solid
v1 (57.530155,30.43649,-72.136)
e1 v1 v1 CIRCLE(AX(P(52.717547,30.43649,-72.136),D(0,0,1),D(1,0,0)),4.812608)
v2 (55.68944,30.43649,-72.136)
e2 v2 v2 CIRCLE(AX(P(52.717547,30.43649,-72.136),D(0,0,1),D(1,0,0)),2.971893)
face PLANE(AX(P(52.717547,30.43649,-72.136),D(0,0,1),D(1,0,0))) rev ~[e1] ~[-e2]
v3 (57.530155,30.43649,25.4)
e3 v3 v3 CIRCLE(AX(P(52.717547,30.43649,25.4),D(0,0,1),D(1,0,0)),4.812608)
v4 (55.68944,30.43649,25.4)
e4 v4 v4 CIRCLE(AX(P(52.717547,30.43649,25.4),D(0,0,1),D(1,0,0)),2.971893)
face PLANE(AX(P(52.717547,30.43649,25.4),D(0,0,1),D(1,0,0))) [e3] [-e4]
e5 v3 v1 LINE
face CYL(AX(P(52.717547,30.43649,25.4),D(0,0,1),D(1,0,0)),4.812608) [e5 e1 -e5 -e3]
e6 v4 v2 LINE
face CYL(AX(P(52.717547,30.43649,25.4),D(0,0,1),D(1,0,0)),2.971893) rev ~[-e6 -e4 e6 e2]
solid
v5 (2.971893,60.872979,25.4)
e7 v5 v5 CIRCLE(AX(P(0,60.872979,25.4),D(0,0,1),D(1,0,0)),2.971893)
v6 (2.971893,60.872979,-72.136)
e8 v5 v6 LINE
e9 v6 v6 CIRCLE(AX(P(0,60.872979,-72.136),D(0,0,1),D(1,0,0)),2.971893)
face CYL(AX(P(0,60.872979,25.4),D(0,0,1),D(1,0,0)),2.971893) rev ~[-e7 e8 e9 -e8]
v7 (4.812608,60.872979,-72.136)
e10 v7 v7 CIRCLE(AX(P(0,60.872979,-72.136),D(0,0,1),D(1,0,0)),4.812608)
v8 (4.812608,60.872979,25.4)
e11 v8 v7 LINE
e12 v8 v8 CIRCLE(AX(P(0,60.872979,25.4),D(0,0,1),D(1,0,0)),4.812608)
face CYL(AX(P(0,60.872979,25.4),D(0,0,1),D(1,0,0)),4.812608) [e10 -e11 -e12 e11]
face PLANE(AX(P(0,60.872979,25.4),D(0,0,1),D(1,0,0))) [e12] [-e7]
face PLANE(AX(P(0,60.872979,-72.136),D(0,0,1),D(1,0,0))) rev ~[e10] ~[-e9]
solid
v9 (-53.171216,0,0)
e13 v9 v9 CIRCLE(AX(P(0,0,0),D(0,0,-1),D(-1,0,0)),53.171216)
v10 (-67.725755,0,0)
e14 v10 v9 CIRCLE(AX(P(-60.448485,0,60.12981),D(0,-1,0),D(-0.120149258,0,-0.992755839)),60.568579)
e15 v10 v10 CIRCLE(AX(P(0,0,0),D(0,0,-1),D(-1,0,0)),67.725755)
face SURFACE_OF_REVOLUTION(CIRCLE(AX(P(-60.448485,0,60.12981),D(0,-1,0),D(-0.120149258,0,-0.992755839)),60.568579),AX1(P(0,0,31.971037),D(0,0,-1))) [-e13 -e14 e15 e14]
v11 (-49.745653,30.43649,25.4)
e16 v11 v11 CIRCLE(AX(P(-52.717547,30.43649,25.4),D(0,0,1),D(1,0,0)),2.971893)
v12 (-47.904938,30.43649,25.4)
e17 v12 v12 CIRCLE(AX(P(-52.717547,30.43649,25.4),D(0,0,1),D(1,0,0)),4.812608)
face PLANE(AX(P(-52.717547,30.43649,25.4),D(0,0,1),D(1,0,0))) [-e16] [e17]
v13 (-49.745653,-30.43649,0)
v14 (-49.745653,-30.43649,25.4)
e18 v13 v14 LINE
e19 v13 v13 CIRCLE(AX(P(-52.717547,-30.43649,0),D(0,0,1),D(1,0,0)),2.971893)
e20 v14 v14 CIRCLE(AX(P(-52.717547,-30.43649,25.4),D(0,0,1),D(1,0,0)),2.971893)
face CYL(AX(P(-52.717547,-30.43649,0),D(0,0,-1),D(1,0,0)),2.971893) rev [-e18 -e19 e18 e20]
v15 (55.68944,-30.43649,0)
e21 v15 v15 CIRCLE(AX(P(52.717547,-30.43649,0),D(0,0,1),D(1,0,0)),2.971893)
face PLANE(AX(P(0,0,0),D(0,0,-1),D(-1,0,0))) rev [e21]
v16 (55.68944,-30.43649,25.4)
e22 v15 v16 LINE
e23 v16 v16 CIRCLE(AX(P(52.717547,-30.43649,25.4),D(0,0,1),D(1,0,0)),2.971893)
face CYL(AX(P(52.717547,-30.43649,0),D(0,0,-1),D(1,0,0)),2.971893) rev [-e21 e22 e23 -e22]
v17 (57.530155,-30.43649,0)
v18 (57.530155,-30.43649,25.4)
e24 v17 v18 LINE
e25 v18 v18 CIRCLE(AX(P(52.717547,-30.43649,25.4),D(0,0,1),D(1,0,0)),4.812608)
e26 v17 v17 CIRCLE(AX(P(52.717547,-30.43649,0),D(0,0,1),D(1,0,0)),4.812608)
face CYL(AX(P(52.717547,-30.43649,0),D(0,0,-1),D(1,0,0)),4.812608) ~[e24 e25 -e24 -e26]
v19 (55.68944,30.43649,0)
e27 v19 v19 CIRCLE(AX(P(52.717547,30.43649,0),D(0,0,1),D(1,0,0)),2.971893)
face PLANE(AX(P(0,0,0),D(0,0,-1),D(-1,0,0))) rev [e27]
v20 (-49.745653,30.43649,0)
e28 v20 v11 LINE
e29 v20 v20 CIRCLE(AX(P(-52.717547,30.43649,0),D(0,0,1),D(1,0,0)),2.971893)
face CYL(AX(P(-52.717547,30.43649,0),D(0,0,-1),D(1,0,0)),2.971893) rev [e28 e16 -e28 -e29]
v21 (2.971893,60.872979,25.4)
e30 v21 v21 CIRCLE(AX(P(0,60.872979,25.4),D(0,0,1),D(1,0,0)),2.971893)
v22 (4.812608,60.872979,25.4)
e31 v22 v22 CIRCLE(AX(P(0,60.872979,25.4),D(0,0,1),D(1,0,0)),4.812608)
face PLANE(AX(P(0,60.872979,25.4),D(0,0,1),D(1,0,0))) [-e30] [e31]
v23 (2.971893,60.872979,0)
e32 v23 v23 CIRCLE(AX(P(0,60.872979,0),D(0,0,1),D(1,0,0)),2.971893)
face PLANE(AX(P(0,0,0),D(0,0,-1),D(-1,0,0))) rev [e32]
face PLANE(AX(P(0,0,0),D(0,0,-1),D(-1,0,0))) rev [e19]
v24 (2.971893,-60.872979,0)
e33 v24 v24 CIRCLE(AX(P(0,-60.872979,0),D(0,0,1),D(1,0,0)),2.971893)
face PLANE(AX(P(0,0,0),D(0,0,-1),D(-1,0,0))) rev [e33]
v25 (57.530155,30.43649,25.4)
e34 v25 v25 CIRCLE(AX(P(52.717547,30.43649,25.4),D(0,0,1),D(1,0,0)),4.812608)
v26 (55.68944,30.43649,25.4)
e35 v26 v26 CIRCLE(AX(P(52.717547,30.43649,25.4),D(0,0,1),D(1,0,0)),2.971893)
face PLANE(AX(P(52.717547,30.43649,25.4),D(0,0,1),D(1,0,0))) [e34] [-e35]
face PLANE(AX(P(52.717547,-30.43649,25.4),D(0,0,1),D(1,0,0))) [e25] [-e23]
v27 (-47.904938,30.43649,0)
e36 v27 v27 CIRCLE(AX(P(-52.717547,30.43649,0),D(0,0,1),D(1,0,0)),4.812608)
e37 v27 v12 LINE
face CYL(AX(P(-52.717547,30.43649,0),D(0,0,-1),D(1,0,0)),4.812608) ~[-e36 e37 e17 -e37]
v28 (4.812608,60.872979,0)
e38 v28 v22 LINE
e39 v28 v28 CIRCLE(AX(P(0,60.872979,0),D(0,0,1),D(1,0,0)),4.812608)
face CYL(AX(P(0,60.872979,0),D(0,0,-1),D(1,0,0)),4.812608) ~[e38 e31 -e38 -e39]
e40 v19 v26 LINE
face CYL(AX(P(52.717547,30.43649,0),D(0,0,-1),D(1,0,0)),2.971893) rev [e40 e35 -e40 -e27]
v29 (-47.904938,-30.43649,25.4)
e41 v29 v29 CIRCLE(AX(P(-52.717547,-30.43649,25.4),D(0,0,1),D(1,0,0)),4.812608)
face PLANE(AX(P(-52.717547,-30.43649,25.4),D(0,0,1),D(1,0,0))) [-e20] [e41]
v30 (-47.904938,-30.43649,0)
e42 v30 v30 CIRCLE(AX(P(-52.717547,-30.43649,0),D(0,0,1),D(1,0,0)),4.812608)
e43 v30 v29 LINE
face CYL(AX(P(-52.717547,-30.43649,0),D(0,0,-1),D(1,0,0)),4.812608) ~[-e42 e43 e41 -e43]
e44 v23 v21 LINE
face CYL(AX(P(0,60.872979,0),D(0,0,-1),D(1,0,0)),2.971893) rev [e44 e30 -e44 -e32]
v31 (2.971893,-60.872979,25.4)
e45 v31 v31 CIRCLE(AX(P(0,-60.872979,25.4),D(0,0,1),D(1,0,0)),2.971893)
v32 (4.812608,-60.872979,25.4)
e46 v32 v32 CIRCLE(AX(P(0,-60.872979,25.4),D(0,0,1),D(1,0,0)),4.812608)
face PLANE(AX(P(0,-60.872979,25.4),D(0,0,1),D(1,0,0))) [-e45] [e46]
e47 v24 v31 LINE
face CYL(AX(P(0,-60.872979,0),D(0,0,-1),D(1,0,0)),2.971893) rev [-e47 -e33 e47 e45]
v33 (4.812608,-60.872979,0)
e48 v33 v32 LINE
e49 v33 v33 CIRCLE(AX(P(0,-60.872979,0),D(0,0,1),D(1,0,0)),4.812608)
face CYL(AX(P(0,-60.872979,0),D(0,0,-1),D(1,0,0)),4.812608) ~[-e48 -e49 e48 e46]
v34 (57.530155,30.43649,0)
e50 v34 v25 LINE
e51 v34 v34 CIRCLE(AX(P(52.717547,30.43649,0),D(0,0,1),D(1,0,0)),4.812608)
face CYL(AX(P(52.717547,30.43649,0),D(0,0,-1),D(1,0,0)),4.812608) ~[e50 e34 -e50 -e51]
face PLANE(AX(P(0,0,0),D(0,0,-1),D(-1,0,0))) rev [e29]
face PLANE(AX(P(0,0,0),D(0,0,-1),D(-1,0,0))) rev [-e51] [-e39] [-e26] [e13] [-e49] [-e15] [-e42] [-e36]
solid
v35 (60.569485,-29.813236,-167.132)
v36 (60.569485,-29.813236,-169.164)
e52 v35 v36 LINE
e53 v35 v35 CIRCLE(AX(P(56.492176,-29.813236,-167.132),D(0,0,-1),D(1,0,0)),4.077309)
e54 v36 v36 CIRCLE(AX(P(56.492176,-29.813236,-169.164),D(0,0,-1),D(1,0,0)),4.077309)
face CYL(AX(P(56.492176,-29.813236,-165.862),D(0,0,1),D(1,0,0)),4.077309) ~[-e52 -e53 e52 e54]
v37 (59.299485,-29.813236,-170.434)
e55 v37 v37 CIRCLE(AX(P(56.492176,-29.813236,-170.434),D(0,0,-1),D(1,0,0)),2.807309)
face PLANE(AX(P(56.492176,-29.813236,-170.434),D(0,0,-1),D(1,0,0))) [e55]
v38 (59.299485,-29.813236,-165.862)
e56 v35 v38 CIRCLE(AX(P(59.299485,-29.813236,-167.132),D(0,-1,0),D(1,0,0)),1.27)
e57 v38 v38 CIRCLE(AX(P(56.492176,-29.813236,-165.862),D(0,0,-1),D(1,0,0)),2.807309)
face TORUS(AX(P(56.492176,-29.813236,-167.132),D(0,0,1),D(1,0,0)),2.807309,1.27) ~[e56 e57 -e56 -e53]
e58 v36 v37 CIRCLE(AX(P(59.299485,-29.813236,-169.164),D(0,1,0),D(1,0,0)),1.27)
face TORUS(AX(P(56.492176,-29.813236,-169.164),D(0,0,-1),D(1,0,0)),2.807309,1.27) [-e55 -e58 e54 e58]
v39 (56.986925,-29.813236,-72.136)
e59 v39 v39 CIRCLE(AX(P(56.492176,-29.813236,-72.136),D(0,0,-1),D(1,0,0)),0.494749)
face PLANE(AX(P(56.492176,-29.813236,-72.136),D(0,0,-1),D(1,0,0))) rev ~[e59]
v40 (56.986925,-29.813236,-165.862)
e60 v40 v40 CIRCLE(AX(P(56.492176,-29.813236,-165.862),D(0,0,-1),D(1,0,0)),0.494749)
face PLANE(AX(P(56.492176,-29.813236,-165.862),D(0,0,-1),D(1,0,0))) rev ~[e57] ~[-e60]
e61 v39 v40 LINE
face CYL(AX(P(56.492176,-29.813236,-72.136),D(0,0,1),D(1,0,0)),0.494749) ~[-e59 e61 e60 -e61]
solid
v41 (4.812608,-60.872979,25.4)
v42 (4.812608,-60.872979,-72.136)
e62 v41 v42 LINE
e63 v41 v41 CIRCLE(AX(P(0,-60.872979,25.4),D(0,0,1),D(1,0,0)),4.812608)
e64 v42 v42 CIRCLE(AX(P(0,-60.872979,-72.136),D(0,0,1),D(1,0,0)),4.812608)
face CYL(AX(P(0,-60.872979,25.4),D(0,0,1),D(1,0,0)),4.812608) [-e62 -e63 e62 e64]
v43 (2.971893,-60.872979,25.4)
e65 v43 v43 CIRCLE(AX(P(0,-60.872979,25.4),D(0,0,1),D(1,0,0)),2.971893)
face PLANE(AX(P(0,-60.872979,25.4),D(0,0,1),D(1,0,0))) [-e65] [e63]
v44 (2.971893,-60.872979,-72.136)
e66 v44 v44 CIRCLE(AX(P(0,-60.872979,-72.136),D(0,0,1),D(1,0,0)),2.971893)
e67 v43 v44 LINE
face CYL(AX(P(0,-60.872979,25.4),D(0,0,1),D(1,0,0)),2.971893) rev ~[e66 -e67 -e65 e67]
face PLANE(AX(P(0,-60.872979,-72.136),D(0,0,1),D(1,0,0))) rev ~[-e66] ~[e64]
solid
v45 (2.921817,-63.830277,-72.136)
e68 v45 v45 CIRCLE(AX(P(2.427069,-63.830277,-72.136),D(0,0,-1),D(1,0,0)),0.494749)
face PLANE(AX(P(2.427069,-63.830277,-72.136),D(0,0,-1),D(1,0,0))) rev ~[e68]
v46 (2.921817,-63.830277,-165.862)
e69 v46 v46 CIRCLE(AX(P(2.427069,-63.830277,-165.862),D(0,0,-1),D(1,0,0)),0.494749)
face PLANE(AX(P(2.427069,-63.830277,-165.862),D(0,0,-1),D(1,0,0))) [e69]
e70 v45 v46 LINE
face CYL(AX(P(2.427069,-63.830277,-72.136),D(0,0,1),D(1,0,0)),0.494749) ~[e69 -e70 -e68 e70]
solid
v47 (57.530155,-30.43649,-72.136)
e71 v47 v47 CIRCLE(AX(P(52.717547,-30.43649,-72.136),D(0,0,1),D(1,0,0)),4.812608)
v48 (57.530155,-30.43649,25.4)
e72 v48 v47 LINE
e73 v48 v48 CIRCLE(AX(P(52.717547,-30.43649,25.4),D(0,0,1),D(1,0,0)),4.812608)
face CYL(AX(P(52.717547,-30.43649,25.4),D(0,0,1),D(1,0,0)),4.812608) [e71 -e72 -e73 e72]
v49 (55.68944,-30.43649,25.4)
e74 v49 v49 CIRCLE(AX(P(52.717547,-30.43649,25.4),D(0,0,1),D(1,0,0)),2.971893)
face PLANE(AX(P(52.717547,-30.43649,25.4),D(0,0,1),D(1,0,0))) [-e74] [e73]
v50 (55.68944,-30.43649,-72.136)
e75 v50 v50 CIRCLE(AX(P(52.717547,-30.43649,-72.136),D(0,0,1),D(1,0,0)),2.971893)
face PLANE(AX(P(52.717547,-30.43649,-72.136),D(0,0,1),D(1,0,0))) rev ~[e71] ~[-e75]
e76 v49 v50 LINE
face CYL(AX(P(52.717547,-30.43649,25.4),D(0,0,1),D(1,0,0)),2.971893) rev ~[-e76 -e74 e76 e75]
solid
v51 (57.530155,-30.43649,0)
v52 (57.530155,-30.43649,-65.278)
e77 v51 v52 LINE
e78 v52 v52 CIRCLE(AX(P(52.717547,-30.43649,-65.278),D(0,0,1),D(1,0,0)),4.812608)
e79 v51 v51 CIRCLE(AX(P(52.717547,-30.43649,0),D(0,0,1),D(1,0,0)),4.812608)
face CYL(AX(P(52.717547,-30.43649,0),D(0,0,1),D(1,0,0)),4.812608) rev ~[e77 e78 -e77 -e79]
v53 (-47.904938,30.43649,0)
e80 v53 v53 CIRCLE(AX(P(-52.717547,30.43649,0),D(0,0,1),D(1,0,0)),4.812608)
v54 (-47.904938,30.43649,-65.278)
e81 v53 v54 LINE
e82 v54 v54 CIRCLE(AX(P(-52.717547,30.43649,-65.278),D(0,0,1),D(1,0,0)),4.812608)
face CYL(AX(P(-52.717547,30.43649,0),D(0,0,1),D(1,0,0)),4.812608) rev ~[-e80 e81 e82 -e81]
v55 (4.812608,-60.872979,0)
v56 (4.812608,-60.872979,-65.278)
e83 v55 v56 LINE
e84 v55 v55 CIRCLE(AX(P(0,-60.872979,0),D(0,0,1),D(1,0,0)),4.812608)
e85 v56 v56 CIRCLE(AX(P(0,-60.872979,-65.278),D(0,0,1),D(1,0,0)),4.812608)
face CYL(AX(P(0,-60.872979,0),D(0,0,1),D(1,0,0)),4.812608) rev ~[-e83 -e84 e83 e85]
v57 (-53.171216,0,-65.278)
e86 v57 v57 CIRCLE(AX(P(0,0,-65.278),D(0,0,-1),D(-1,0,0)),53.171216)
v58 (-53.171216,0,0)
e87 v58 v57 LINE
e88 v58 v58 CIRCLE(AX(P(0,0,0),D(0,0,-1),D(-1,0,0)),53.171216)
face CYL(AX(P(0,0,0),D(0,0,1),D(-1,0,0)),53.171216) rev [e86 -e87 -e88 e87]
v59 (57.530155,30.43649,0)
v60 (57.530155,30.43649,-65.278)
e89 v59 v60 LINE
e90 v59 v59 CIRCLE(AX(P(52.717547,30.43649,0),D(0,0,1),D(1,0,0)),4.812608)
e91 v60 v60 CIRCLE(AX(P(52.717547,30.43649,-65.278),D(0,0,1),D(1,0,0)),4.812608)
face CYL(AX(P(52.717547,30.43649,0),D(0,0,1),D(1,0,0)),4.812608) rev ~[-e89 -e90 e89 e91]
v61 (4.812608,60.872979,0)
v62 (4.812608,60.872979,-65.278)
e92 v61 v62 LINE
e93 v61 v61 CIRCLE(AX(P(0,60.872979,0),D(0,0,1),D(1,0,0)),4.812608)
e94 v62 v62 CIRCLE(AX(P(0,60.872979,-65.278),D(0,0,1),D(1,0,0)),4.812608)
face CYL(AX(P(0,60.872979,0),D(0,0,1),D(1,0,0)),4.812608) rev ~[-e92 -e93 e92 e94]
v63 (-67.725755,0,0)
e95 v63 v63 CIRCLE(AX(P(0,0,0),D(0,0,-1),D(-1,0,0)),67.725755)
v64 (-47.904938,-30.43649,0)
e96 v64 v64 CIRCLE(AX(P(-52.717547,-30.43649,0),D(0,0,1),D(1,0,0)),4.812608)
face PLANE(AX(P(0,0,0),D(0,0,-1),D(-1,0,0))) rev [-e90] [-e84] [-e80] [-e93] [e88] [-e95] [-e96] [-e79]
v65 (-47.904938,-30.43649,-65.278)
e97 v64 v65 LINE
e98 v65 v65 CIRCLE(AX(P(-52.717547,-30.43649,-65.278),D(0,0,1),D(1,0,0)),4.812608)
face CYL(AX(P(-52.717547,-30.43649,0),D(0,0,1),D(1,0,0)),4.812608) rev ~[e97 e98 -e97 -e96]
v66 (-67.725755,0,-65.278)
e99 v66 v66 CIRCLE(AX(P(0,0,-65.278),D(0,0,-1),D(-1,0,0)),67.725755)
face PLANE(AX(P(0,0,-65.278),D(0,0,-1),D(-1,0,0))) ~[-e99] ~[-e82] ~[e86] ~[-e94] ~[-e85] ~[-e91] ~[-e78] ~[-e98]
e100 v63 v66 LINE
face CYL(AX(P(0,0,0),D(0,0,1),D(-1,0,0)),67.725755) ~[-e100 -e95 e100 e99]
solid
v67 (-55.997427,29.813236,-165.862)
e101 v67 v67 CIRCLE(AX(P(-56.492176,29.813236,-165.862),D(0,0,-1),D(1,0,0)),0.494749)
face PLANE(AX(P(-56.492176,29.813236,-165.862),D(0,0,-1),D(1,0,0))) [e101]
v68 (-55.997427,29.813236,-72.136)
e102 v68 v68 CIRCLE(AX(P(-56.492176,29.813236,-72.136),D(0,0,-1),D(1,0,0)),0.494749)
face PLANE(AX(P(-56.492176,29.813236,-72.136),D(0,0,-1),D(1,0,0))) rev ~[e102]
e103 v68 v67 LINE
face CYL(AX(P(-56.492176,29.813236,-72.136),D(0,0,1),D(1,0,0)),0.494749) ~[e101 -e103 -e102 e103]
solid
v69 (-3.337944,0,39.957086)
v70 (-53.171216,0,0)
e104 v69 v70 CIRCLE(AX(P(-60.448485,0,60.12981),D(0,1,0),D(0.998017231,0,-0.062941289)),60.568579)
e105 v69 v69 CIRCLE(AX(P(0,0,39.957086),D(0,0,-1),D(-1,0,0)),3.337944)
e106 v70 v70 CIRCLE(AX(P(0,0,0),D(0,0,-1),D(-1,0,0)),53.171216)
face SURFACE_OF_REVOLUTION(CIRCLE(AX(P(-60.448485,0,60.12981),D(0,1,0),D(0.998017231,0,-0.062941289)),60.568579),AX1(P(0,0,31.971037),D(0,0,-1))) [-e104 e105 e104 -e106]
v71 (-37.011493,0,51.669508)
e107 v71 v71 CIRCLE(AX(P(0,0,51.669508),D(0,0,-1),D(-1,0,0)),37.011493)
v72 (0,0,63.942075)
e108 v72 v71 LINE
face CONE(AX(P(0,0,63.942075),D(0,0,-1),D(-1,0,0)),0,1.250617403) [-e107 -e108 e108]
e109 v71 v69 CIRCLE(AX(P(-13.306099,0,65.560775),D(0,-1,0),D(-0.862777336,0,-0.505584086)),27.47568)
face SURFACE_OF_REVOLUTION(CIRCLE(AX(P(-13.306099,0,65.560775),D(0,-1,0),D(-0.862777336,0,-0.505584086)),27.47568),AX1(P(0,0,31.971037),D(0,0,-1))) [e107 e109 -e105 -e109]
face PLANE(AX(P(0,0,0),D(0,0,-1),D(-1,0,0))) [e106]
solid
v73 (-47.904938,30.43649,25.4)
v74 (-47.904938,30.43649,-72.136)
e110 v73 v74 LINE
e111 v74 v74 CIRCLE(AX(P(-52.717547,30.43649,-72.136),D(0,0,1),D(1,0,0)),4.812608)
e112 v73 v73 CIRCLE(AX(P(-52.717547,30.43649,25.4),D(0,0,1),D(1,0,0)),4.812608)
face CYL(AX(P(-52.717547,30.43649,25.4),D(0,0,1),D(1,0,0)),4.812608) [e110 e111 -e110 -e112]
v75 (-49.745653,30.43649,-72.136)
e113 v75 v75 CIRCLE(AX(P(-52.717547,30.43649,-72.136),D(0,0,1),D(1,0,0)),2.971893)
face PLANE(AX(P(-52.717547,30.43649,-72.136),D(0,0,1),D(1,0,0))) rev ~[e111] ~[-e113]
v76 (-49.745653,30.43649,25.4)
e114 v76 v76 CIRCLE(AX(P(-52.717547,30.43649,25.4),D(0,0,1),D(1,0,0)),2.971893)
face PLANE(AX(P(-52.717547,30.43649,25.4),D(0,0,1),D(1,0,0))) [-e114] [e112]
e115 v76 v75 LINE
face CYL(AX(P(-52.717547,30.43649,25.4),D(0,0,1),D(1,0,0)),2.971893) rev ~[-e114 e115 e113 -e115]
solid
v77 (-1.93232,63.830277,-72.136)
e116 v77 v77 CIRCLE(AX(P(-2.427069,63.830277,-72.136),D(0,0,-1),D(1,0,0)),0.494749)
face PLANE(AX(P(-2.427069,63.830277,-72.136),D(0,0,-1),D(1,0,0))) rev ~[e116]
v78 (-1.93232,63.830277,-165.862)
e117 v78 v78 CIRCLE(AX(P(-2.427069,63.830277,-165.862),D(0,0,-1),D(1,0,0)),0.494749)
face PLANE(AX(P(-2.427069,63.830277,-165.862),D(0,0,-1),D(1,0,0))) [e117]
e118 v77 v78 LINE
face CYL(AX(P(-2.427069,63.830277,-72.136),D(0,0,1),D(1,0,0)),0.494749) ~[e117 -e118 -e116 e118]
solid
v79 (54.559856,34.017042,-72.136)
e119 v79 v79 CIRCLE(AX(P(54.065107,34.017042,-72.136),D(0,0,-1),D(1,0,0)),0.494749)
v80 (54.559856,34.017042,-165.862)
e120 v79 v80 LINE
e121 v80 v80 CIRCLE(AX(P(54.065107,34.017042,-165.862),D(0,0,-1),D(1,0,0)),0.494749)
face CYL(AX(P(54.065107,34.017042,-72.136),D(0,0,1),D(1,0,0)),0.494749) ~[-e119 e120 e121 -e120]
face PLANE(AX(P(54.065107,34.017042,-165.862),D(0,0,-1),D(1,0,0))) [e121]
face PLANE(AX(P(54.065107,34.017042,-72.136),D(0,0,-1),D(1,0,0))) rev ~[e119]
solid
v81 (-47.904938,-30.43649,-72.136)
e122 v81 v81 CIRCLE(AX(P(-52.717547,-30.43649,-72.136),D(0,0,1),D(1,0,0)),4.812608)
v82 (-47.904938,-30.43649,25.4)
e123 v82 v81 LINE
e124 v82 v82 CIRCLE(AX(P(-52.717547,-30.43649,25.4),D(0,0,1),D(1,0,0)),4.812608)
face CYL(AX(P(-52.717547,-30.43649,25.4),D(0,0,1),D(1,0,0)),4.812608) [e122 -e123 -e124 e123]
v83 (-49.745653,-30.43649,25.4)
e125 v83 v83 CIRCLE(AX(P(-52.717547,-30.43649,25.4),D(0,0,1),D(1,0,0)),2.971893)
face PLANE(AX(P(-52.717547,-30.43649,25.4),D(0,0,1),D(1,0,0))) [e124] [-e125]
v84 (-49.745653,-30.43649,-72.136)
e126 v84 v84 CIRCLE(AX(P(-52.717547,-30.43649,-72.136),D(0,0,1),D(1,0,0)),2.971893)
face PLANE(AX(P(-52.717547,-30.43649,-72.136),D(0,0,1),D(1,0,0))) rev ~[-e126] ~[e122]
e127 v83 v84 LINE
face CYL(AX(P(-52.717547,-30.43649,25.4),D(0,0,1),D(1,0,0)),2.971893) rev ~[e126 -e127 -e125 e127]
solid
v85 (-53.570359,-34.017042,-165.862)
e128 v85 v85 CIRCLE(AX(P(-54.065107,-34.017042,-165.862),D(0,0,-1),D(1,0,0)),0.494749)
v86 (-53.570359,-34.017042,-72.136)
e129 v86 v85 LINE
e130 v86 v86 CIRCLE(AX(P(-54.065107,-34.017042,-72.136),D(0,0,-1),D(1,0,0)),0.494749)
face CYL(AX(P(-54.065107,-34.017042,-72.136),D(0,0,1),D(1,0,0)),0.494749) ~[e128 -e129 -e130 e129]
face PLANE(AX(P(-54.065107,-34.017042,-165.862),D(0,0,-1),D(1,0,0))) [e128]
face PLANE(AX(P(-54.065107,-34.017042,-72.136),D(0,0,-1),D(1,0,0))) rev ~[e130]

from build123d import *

# Parameters (mm, degrees)
F2_R      = 4.812608174
F2_R_2    = 2.9718933484
F3_DEPTH  = 25.4
F4_DEPTH  = 97.536
F5_R      = 0.4947488438
F6_DEPTH  = 93.726
F7_R      = 4.0773088167
F8_DEPTH  = 4.572
F9_R      = 1.27
F10_DEPTH = 65.278


with BuildPart() as f1:
    # F0 (on Front) → F1 (revolve)
    with BuildSketch(Plane.XZ):
        with BuildLine():
            Line((-53.1712156031, 0), (-67.7257552743, 0))
            ThreePointArc((-67.7257552743, 0), (-60.4484854387, -0.4387685418), (-53.1712156031, 0))
        make_face()
    revolve(axis=Axis((0, 0, 31.9710373878), (0, 0, -1)))

    # F2 (on Top) → F3 (join)
    with BuildSketch(Plane.XY):
        with Locations((0, 60.8729794621)):
            Circle(F2_R)
        with Locations((0, 60.8729794621)):
            Circle(F2_R_2, mode=Mode.SUBTRACT)
        with Locations((-52.7175466183, 30.4364897311)):
            Circle(F2_R)
        with Locations((-52.7175466183, 30.4364897311)):
            Circle(F2_R_2, mode=Mode.SUBTRACT)
        with Locations((-52.7175466183, -30.4364897311)):
            Circle(F2_R)
        with Locations((-52.7175466183, -30.4364897311)):
            Circle(F2_R_2, mode=Mode.SUBTRACT)
        with Locations((0, -60.8729794621)):
            Circle(F2_R)
        with Locations((0, -60.8729794621)):
            Circle(F2_R_2, mode=Mode.SUBTRACT)
        with Locations((52.7175466183, -30.4364897311)):
            Circle(F2_R)
        with Locations((52.7175466183, -30.4364897311)):
            Circle(F2_R_2, mode=Mode.SUBTRACT)
        with Locations((52.7175466183, 30.4364897311)):
            Circle(F2_R)
        with Locations((52.7175466183, 30.4364897311)):
            Circle(F2_R_2, mode=Mode.SUBTRACT)
    extrude(amount=F3_DEPTH)


with BuildPart() as f1b:
    # F0 (on Front) → F1, piece 2 (revolve)
    with BuildSketch(Plane.XZ):
        with BuildLine():
            ThreePointArc((-37.0114929974, 51.6695082188), (-22.332346424, 39.6100551343), (-3.3379440264, 39.9570859333))
            ThreePointArc((-3.3379440264, 39.9570859333), (-1.1024884238, 48.0217390968), (0, 56.3175459697))
            Line((0, 56.3175459697), (0, 63.9420747757))
            Line((0, 63.9420747757), (-37.0114929974, 51.6695082188))
        make_face()
        with BuildLine():
            ThreePointArc((-3.3379440264, 39.9570859333), (-22.5593083773, 12.8755723266), (-53.1712156031, 0))
            Line((-53.1712156031, 0), (0, 0))
            Line((0, 0), (0, 56.3175459697))
            ThreePointArc((0, 56.3175459697), (-1.1024884238, 48.0217390968), (-3.3379440264, 39.9570859333))
        make_face()
    revolve(axis=Axis((0, 0, 31.9710373878), (0, 0, -1)))


with BuildPart() as f4:
    # F4 (new): a face of the model
    f4_faces = [f1.part.faces().sort_by_distance(p)[0] for p in [
        (-4.676487059, 60.8729794621, 25.4),
    ]]
    extrude(f4_faces, amount=-F4_DEPTH)


with BuildPart() as f4b:
    # F4#2 (new): a face of the model
    f4_2_faces = [f1.part.faces().sort_by_distance(p)[0] for p in [
        (48.0410595593, 30.4364897311, 25.4),
    ]]
    extrude(f4_2_faces, amount=-F4_DEPTH)


with BuildPart() as f4c:
    # F4#3 (new): a face of the model
    f4_3_faces = [f1.part.faces().sort_by_distance(p)[0] for p in [
        (48.0410595593, -30.4364897311, 25.4),
    ]]
    extrude(f4_3_faces, amount=-F4_DEPTH)


with BuildPart() as f4d:
    # F4#4 (new): a face of the model
    f4_4_faces = [f1.part.faces().sort_by_distance(p)[0] for p in [
        (-4.676487059, -60.8729794621, 25.4),
    ]]
    extrude(f4_4_faces, amount=-F4_DEPTH)


with BuildPart() as f4e:
    # F4#5 (new): a face of the model
    f4_5_faces = [f1.part.faces().sort_by_distance(p)[0] for p in [
        (-57.3940336772, -30.4364897311, 25.4),
    ]]
    extrude(f4_5_faces, amount=-F4_DEPTH)


with BuildPart() as f4f:
    # F4#6 (new): a face of the model
    f4_6_faces = [f1.part.faces().sort_by_distance(p)[0] for p in [
        (-57.3940336772, 30.4364897311, 25.4),
    ]]
    extrude(f4_6_faces, amount=-F4_DEPTH)


with BuildPart() as f6:
    # F5 (on face) → F6 (new body)
    with BuildSketch(Plane(origin=(0, 0, -72.136), x_dir=(1, 0, 0), z_dir=(0, 0, -1))):
        with Locations((56.4921759069, 29.8132356256)):
            Circle(F5_R)
    extrude(amount=F6_DEPTH)

    # F7 (on face) → F8 (join)
    with BuildSketch(Plane(origin=(0, 0, -165.862), x_dir=(1, 0, 0), z_dir=(0, 0, -1))):
        with Locations((56.4921759069, 29.8132356256)):
            Circle(F7_R)
    extrude(amount=F8_DEPTH)

    # F9
    f9_edges = [f6.edges().sort_by_distance(p)[0] for p in [
        (52.414867, -29.813236, -165.862),
        (52.414867, -29.813236, -170.434),
    ]]
    fillet(f9_edges, radius=F9_R)


with BuildPart() as f6b:
    # F5 (on face) → F6, piece 2 (new body)
    with BuildSketch(Plane(origin=(0, 0, -72.136), x_dir=(1, 0, 0), z_dir=(0, 0, -1))):
        with Locations((2.4270685326, 63.8302772632)):
            Circle(F5_R)
    extrude(amount=F6_DEPTH)


with BuildPart() as f6c:
    # F5 (on face) → F6, piece 3 (new body)
    with BuildSketch(Plane(origin=(0, 0, -72.136), x_dir=(1, 0, 0), z_dir=(0, 0, -1))):
        with Locations((-54.0651073743, 34.0170416376)):
            Circle(F5_R)
    extrude(amount=F6_DEPTH)


with BuildPart() as f6d:
    # F5 (on face) → F6, piece 4 (new body)
    with BuildSketch(Plane(origin=(0, 0, -72.136), x_dir=(1, 0, 0), z_dir=(0, 0, -1))):
        with Locations((-56.4921759069, -29.8132356256)):
            Circle(F5_R)
    extrude(amount=F6_DEPTH)


with BuildPart() as f6e:
    # F5 (on face) → F6, piece 5 (new body)
    with BuildSketch(Plane(origin=(0, 0, -72.136), x_dir=(1, 0, 0), z_dir=(0, 0, -1))):
        with Locations((-2.4270685326, -63.8302772632)):
            Circle(F5_R)
    extrude(amount=F6_DEPTH)


with BuildPart() as f6f:
    # F5 (on face) → F6, piece 6 (new body)
    with BuildSketch(Plane(origin=(0, 0, -72.136), x_dir=(1, 0, 0), z_dir=(0, 0, -1))):
        with Locations((54.0651073743, -34.0170416376)):
            Circle(F5_R)
    extrude(amount=F6_DEPTH)


with BuildPart() as f10:
    # F10 (new): a face of the model
    f10_faces = [f1.part.faces().sort_by_distance(p)[0] for p in [
        (65.8101816417, 0, 0),
    ]]
    extrude(f10_faces, amount=-F10_DEPTH)


solid = Compound([f1.part, f1b.part, f4.part, f4b.part, f4c.part, f4d.part, f4e.part, f4f.part, f6.part, f6b.part, f6c.part, f6d.part, f6e.part, f6f.part, f10.part])
